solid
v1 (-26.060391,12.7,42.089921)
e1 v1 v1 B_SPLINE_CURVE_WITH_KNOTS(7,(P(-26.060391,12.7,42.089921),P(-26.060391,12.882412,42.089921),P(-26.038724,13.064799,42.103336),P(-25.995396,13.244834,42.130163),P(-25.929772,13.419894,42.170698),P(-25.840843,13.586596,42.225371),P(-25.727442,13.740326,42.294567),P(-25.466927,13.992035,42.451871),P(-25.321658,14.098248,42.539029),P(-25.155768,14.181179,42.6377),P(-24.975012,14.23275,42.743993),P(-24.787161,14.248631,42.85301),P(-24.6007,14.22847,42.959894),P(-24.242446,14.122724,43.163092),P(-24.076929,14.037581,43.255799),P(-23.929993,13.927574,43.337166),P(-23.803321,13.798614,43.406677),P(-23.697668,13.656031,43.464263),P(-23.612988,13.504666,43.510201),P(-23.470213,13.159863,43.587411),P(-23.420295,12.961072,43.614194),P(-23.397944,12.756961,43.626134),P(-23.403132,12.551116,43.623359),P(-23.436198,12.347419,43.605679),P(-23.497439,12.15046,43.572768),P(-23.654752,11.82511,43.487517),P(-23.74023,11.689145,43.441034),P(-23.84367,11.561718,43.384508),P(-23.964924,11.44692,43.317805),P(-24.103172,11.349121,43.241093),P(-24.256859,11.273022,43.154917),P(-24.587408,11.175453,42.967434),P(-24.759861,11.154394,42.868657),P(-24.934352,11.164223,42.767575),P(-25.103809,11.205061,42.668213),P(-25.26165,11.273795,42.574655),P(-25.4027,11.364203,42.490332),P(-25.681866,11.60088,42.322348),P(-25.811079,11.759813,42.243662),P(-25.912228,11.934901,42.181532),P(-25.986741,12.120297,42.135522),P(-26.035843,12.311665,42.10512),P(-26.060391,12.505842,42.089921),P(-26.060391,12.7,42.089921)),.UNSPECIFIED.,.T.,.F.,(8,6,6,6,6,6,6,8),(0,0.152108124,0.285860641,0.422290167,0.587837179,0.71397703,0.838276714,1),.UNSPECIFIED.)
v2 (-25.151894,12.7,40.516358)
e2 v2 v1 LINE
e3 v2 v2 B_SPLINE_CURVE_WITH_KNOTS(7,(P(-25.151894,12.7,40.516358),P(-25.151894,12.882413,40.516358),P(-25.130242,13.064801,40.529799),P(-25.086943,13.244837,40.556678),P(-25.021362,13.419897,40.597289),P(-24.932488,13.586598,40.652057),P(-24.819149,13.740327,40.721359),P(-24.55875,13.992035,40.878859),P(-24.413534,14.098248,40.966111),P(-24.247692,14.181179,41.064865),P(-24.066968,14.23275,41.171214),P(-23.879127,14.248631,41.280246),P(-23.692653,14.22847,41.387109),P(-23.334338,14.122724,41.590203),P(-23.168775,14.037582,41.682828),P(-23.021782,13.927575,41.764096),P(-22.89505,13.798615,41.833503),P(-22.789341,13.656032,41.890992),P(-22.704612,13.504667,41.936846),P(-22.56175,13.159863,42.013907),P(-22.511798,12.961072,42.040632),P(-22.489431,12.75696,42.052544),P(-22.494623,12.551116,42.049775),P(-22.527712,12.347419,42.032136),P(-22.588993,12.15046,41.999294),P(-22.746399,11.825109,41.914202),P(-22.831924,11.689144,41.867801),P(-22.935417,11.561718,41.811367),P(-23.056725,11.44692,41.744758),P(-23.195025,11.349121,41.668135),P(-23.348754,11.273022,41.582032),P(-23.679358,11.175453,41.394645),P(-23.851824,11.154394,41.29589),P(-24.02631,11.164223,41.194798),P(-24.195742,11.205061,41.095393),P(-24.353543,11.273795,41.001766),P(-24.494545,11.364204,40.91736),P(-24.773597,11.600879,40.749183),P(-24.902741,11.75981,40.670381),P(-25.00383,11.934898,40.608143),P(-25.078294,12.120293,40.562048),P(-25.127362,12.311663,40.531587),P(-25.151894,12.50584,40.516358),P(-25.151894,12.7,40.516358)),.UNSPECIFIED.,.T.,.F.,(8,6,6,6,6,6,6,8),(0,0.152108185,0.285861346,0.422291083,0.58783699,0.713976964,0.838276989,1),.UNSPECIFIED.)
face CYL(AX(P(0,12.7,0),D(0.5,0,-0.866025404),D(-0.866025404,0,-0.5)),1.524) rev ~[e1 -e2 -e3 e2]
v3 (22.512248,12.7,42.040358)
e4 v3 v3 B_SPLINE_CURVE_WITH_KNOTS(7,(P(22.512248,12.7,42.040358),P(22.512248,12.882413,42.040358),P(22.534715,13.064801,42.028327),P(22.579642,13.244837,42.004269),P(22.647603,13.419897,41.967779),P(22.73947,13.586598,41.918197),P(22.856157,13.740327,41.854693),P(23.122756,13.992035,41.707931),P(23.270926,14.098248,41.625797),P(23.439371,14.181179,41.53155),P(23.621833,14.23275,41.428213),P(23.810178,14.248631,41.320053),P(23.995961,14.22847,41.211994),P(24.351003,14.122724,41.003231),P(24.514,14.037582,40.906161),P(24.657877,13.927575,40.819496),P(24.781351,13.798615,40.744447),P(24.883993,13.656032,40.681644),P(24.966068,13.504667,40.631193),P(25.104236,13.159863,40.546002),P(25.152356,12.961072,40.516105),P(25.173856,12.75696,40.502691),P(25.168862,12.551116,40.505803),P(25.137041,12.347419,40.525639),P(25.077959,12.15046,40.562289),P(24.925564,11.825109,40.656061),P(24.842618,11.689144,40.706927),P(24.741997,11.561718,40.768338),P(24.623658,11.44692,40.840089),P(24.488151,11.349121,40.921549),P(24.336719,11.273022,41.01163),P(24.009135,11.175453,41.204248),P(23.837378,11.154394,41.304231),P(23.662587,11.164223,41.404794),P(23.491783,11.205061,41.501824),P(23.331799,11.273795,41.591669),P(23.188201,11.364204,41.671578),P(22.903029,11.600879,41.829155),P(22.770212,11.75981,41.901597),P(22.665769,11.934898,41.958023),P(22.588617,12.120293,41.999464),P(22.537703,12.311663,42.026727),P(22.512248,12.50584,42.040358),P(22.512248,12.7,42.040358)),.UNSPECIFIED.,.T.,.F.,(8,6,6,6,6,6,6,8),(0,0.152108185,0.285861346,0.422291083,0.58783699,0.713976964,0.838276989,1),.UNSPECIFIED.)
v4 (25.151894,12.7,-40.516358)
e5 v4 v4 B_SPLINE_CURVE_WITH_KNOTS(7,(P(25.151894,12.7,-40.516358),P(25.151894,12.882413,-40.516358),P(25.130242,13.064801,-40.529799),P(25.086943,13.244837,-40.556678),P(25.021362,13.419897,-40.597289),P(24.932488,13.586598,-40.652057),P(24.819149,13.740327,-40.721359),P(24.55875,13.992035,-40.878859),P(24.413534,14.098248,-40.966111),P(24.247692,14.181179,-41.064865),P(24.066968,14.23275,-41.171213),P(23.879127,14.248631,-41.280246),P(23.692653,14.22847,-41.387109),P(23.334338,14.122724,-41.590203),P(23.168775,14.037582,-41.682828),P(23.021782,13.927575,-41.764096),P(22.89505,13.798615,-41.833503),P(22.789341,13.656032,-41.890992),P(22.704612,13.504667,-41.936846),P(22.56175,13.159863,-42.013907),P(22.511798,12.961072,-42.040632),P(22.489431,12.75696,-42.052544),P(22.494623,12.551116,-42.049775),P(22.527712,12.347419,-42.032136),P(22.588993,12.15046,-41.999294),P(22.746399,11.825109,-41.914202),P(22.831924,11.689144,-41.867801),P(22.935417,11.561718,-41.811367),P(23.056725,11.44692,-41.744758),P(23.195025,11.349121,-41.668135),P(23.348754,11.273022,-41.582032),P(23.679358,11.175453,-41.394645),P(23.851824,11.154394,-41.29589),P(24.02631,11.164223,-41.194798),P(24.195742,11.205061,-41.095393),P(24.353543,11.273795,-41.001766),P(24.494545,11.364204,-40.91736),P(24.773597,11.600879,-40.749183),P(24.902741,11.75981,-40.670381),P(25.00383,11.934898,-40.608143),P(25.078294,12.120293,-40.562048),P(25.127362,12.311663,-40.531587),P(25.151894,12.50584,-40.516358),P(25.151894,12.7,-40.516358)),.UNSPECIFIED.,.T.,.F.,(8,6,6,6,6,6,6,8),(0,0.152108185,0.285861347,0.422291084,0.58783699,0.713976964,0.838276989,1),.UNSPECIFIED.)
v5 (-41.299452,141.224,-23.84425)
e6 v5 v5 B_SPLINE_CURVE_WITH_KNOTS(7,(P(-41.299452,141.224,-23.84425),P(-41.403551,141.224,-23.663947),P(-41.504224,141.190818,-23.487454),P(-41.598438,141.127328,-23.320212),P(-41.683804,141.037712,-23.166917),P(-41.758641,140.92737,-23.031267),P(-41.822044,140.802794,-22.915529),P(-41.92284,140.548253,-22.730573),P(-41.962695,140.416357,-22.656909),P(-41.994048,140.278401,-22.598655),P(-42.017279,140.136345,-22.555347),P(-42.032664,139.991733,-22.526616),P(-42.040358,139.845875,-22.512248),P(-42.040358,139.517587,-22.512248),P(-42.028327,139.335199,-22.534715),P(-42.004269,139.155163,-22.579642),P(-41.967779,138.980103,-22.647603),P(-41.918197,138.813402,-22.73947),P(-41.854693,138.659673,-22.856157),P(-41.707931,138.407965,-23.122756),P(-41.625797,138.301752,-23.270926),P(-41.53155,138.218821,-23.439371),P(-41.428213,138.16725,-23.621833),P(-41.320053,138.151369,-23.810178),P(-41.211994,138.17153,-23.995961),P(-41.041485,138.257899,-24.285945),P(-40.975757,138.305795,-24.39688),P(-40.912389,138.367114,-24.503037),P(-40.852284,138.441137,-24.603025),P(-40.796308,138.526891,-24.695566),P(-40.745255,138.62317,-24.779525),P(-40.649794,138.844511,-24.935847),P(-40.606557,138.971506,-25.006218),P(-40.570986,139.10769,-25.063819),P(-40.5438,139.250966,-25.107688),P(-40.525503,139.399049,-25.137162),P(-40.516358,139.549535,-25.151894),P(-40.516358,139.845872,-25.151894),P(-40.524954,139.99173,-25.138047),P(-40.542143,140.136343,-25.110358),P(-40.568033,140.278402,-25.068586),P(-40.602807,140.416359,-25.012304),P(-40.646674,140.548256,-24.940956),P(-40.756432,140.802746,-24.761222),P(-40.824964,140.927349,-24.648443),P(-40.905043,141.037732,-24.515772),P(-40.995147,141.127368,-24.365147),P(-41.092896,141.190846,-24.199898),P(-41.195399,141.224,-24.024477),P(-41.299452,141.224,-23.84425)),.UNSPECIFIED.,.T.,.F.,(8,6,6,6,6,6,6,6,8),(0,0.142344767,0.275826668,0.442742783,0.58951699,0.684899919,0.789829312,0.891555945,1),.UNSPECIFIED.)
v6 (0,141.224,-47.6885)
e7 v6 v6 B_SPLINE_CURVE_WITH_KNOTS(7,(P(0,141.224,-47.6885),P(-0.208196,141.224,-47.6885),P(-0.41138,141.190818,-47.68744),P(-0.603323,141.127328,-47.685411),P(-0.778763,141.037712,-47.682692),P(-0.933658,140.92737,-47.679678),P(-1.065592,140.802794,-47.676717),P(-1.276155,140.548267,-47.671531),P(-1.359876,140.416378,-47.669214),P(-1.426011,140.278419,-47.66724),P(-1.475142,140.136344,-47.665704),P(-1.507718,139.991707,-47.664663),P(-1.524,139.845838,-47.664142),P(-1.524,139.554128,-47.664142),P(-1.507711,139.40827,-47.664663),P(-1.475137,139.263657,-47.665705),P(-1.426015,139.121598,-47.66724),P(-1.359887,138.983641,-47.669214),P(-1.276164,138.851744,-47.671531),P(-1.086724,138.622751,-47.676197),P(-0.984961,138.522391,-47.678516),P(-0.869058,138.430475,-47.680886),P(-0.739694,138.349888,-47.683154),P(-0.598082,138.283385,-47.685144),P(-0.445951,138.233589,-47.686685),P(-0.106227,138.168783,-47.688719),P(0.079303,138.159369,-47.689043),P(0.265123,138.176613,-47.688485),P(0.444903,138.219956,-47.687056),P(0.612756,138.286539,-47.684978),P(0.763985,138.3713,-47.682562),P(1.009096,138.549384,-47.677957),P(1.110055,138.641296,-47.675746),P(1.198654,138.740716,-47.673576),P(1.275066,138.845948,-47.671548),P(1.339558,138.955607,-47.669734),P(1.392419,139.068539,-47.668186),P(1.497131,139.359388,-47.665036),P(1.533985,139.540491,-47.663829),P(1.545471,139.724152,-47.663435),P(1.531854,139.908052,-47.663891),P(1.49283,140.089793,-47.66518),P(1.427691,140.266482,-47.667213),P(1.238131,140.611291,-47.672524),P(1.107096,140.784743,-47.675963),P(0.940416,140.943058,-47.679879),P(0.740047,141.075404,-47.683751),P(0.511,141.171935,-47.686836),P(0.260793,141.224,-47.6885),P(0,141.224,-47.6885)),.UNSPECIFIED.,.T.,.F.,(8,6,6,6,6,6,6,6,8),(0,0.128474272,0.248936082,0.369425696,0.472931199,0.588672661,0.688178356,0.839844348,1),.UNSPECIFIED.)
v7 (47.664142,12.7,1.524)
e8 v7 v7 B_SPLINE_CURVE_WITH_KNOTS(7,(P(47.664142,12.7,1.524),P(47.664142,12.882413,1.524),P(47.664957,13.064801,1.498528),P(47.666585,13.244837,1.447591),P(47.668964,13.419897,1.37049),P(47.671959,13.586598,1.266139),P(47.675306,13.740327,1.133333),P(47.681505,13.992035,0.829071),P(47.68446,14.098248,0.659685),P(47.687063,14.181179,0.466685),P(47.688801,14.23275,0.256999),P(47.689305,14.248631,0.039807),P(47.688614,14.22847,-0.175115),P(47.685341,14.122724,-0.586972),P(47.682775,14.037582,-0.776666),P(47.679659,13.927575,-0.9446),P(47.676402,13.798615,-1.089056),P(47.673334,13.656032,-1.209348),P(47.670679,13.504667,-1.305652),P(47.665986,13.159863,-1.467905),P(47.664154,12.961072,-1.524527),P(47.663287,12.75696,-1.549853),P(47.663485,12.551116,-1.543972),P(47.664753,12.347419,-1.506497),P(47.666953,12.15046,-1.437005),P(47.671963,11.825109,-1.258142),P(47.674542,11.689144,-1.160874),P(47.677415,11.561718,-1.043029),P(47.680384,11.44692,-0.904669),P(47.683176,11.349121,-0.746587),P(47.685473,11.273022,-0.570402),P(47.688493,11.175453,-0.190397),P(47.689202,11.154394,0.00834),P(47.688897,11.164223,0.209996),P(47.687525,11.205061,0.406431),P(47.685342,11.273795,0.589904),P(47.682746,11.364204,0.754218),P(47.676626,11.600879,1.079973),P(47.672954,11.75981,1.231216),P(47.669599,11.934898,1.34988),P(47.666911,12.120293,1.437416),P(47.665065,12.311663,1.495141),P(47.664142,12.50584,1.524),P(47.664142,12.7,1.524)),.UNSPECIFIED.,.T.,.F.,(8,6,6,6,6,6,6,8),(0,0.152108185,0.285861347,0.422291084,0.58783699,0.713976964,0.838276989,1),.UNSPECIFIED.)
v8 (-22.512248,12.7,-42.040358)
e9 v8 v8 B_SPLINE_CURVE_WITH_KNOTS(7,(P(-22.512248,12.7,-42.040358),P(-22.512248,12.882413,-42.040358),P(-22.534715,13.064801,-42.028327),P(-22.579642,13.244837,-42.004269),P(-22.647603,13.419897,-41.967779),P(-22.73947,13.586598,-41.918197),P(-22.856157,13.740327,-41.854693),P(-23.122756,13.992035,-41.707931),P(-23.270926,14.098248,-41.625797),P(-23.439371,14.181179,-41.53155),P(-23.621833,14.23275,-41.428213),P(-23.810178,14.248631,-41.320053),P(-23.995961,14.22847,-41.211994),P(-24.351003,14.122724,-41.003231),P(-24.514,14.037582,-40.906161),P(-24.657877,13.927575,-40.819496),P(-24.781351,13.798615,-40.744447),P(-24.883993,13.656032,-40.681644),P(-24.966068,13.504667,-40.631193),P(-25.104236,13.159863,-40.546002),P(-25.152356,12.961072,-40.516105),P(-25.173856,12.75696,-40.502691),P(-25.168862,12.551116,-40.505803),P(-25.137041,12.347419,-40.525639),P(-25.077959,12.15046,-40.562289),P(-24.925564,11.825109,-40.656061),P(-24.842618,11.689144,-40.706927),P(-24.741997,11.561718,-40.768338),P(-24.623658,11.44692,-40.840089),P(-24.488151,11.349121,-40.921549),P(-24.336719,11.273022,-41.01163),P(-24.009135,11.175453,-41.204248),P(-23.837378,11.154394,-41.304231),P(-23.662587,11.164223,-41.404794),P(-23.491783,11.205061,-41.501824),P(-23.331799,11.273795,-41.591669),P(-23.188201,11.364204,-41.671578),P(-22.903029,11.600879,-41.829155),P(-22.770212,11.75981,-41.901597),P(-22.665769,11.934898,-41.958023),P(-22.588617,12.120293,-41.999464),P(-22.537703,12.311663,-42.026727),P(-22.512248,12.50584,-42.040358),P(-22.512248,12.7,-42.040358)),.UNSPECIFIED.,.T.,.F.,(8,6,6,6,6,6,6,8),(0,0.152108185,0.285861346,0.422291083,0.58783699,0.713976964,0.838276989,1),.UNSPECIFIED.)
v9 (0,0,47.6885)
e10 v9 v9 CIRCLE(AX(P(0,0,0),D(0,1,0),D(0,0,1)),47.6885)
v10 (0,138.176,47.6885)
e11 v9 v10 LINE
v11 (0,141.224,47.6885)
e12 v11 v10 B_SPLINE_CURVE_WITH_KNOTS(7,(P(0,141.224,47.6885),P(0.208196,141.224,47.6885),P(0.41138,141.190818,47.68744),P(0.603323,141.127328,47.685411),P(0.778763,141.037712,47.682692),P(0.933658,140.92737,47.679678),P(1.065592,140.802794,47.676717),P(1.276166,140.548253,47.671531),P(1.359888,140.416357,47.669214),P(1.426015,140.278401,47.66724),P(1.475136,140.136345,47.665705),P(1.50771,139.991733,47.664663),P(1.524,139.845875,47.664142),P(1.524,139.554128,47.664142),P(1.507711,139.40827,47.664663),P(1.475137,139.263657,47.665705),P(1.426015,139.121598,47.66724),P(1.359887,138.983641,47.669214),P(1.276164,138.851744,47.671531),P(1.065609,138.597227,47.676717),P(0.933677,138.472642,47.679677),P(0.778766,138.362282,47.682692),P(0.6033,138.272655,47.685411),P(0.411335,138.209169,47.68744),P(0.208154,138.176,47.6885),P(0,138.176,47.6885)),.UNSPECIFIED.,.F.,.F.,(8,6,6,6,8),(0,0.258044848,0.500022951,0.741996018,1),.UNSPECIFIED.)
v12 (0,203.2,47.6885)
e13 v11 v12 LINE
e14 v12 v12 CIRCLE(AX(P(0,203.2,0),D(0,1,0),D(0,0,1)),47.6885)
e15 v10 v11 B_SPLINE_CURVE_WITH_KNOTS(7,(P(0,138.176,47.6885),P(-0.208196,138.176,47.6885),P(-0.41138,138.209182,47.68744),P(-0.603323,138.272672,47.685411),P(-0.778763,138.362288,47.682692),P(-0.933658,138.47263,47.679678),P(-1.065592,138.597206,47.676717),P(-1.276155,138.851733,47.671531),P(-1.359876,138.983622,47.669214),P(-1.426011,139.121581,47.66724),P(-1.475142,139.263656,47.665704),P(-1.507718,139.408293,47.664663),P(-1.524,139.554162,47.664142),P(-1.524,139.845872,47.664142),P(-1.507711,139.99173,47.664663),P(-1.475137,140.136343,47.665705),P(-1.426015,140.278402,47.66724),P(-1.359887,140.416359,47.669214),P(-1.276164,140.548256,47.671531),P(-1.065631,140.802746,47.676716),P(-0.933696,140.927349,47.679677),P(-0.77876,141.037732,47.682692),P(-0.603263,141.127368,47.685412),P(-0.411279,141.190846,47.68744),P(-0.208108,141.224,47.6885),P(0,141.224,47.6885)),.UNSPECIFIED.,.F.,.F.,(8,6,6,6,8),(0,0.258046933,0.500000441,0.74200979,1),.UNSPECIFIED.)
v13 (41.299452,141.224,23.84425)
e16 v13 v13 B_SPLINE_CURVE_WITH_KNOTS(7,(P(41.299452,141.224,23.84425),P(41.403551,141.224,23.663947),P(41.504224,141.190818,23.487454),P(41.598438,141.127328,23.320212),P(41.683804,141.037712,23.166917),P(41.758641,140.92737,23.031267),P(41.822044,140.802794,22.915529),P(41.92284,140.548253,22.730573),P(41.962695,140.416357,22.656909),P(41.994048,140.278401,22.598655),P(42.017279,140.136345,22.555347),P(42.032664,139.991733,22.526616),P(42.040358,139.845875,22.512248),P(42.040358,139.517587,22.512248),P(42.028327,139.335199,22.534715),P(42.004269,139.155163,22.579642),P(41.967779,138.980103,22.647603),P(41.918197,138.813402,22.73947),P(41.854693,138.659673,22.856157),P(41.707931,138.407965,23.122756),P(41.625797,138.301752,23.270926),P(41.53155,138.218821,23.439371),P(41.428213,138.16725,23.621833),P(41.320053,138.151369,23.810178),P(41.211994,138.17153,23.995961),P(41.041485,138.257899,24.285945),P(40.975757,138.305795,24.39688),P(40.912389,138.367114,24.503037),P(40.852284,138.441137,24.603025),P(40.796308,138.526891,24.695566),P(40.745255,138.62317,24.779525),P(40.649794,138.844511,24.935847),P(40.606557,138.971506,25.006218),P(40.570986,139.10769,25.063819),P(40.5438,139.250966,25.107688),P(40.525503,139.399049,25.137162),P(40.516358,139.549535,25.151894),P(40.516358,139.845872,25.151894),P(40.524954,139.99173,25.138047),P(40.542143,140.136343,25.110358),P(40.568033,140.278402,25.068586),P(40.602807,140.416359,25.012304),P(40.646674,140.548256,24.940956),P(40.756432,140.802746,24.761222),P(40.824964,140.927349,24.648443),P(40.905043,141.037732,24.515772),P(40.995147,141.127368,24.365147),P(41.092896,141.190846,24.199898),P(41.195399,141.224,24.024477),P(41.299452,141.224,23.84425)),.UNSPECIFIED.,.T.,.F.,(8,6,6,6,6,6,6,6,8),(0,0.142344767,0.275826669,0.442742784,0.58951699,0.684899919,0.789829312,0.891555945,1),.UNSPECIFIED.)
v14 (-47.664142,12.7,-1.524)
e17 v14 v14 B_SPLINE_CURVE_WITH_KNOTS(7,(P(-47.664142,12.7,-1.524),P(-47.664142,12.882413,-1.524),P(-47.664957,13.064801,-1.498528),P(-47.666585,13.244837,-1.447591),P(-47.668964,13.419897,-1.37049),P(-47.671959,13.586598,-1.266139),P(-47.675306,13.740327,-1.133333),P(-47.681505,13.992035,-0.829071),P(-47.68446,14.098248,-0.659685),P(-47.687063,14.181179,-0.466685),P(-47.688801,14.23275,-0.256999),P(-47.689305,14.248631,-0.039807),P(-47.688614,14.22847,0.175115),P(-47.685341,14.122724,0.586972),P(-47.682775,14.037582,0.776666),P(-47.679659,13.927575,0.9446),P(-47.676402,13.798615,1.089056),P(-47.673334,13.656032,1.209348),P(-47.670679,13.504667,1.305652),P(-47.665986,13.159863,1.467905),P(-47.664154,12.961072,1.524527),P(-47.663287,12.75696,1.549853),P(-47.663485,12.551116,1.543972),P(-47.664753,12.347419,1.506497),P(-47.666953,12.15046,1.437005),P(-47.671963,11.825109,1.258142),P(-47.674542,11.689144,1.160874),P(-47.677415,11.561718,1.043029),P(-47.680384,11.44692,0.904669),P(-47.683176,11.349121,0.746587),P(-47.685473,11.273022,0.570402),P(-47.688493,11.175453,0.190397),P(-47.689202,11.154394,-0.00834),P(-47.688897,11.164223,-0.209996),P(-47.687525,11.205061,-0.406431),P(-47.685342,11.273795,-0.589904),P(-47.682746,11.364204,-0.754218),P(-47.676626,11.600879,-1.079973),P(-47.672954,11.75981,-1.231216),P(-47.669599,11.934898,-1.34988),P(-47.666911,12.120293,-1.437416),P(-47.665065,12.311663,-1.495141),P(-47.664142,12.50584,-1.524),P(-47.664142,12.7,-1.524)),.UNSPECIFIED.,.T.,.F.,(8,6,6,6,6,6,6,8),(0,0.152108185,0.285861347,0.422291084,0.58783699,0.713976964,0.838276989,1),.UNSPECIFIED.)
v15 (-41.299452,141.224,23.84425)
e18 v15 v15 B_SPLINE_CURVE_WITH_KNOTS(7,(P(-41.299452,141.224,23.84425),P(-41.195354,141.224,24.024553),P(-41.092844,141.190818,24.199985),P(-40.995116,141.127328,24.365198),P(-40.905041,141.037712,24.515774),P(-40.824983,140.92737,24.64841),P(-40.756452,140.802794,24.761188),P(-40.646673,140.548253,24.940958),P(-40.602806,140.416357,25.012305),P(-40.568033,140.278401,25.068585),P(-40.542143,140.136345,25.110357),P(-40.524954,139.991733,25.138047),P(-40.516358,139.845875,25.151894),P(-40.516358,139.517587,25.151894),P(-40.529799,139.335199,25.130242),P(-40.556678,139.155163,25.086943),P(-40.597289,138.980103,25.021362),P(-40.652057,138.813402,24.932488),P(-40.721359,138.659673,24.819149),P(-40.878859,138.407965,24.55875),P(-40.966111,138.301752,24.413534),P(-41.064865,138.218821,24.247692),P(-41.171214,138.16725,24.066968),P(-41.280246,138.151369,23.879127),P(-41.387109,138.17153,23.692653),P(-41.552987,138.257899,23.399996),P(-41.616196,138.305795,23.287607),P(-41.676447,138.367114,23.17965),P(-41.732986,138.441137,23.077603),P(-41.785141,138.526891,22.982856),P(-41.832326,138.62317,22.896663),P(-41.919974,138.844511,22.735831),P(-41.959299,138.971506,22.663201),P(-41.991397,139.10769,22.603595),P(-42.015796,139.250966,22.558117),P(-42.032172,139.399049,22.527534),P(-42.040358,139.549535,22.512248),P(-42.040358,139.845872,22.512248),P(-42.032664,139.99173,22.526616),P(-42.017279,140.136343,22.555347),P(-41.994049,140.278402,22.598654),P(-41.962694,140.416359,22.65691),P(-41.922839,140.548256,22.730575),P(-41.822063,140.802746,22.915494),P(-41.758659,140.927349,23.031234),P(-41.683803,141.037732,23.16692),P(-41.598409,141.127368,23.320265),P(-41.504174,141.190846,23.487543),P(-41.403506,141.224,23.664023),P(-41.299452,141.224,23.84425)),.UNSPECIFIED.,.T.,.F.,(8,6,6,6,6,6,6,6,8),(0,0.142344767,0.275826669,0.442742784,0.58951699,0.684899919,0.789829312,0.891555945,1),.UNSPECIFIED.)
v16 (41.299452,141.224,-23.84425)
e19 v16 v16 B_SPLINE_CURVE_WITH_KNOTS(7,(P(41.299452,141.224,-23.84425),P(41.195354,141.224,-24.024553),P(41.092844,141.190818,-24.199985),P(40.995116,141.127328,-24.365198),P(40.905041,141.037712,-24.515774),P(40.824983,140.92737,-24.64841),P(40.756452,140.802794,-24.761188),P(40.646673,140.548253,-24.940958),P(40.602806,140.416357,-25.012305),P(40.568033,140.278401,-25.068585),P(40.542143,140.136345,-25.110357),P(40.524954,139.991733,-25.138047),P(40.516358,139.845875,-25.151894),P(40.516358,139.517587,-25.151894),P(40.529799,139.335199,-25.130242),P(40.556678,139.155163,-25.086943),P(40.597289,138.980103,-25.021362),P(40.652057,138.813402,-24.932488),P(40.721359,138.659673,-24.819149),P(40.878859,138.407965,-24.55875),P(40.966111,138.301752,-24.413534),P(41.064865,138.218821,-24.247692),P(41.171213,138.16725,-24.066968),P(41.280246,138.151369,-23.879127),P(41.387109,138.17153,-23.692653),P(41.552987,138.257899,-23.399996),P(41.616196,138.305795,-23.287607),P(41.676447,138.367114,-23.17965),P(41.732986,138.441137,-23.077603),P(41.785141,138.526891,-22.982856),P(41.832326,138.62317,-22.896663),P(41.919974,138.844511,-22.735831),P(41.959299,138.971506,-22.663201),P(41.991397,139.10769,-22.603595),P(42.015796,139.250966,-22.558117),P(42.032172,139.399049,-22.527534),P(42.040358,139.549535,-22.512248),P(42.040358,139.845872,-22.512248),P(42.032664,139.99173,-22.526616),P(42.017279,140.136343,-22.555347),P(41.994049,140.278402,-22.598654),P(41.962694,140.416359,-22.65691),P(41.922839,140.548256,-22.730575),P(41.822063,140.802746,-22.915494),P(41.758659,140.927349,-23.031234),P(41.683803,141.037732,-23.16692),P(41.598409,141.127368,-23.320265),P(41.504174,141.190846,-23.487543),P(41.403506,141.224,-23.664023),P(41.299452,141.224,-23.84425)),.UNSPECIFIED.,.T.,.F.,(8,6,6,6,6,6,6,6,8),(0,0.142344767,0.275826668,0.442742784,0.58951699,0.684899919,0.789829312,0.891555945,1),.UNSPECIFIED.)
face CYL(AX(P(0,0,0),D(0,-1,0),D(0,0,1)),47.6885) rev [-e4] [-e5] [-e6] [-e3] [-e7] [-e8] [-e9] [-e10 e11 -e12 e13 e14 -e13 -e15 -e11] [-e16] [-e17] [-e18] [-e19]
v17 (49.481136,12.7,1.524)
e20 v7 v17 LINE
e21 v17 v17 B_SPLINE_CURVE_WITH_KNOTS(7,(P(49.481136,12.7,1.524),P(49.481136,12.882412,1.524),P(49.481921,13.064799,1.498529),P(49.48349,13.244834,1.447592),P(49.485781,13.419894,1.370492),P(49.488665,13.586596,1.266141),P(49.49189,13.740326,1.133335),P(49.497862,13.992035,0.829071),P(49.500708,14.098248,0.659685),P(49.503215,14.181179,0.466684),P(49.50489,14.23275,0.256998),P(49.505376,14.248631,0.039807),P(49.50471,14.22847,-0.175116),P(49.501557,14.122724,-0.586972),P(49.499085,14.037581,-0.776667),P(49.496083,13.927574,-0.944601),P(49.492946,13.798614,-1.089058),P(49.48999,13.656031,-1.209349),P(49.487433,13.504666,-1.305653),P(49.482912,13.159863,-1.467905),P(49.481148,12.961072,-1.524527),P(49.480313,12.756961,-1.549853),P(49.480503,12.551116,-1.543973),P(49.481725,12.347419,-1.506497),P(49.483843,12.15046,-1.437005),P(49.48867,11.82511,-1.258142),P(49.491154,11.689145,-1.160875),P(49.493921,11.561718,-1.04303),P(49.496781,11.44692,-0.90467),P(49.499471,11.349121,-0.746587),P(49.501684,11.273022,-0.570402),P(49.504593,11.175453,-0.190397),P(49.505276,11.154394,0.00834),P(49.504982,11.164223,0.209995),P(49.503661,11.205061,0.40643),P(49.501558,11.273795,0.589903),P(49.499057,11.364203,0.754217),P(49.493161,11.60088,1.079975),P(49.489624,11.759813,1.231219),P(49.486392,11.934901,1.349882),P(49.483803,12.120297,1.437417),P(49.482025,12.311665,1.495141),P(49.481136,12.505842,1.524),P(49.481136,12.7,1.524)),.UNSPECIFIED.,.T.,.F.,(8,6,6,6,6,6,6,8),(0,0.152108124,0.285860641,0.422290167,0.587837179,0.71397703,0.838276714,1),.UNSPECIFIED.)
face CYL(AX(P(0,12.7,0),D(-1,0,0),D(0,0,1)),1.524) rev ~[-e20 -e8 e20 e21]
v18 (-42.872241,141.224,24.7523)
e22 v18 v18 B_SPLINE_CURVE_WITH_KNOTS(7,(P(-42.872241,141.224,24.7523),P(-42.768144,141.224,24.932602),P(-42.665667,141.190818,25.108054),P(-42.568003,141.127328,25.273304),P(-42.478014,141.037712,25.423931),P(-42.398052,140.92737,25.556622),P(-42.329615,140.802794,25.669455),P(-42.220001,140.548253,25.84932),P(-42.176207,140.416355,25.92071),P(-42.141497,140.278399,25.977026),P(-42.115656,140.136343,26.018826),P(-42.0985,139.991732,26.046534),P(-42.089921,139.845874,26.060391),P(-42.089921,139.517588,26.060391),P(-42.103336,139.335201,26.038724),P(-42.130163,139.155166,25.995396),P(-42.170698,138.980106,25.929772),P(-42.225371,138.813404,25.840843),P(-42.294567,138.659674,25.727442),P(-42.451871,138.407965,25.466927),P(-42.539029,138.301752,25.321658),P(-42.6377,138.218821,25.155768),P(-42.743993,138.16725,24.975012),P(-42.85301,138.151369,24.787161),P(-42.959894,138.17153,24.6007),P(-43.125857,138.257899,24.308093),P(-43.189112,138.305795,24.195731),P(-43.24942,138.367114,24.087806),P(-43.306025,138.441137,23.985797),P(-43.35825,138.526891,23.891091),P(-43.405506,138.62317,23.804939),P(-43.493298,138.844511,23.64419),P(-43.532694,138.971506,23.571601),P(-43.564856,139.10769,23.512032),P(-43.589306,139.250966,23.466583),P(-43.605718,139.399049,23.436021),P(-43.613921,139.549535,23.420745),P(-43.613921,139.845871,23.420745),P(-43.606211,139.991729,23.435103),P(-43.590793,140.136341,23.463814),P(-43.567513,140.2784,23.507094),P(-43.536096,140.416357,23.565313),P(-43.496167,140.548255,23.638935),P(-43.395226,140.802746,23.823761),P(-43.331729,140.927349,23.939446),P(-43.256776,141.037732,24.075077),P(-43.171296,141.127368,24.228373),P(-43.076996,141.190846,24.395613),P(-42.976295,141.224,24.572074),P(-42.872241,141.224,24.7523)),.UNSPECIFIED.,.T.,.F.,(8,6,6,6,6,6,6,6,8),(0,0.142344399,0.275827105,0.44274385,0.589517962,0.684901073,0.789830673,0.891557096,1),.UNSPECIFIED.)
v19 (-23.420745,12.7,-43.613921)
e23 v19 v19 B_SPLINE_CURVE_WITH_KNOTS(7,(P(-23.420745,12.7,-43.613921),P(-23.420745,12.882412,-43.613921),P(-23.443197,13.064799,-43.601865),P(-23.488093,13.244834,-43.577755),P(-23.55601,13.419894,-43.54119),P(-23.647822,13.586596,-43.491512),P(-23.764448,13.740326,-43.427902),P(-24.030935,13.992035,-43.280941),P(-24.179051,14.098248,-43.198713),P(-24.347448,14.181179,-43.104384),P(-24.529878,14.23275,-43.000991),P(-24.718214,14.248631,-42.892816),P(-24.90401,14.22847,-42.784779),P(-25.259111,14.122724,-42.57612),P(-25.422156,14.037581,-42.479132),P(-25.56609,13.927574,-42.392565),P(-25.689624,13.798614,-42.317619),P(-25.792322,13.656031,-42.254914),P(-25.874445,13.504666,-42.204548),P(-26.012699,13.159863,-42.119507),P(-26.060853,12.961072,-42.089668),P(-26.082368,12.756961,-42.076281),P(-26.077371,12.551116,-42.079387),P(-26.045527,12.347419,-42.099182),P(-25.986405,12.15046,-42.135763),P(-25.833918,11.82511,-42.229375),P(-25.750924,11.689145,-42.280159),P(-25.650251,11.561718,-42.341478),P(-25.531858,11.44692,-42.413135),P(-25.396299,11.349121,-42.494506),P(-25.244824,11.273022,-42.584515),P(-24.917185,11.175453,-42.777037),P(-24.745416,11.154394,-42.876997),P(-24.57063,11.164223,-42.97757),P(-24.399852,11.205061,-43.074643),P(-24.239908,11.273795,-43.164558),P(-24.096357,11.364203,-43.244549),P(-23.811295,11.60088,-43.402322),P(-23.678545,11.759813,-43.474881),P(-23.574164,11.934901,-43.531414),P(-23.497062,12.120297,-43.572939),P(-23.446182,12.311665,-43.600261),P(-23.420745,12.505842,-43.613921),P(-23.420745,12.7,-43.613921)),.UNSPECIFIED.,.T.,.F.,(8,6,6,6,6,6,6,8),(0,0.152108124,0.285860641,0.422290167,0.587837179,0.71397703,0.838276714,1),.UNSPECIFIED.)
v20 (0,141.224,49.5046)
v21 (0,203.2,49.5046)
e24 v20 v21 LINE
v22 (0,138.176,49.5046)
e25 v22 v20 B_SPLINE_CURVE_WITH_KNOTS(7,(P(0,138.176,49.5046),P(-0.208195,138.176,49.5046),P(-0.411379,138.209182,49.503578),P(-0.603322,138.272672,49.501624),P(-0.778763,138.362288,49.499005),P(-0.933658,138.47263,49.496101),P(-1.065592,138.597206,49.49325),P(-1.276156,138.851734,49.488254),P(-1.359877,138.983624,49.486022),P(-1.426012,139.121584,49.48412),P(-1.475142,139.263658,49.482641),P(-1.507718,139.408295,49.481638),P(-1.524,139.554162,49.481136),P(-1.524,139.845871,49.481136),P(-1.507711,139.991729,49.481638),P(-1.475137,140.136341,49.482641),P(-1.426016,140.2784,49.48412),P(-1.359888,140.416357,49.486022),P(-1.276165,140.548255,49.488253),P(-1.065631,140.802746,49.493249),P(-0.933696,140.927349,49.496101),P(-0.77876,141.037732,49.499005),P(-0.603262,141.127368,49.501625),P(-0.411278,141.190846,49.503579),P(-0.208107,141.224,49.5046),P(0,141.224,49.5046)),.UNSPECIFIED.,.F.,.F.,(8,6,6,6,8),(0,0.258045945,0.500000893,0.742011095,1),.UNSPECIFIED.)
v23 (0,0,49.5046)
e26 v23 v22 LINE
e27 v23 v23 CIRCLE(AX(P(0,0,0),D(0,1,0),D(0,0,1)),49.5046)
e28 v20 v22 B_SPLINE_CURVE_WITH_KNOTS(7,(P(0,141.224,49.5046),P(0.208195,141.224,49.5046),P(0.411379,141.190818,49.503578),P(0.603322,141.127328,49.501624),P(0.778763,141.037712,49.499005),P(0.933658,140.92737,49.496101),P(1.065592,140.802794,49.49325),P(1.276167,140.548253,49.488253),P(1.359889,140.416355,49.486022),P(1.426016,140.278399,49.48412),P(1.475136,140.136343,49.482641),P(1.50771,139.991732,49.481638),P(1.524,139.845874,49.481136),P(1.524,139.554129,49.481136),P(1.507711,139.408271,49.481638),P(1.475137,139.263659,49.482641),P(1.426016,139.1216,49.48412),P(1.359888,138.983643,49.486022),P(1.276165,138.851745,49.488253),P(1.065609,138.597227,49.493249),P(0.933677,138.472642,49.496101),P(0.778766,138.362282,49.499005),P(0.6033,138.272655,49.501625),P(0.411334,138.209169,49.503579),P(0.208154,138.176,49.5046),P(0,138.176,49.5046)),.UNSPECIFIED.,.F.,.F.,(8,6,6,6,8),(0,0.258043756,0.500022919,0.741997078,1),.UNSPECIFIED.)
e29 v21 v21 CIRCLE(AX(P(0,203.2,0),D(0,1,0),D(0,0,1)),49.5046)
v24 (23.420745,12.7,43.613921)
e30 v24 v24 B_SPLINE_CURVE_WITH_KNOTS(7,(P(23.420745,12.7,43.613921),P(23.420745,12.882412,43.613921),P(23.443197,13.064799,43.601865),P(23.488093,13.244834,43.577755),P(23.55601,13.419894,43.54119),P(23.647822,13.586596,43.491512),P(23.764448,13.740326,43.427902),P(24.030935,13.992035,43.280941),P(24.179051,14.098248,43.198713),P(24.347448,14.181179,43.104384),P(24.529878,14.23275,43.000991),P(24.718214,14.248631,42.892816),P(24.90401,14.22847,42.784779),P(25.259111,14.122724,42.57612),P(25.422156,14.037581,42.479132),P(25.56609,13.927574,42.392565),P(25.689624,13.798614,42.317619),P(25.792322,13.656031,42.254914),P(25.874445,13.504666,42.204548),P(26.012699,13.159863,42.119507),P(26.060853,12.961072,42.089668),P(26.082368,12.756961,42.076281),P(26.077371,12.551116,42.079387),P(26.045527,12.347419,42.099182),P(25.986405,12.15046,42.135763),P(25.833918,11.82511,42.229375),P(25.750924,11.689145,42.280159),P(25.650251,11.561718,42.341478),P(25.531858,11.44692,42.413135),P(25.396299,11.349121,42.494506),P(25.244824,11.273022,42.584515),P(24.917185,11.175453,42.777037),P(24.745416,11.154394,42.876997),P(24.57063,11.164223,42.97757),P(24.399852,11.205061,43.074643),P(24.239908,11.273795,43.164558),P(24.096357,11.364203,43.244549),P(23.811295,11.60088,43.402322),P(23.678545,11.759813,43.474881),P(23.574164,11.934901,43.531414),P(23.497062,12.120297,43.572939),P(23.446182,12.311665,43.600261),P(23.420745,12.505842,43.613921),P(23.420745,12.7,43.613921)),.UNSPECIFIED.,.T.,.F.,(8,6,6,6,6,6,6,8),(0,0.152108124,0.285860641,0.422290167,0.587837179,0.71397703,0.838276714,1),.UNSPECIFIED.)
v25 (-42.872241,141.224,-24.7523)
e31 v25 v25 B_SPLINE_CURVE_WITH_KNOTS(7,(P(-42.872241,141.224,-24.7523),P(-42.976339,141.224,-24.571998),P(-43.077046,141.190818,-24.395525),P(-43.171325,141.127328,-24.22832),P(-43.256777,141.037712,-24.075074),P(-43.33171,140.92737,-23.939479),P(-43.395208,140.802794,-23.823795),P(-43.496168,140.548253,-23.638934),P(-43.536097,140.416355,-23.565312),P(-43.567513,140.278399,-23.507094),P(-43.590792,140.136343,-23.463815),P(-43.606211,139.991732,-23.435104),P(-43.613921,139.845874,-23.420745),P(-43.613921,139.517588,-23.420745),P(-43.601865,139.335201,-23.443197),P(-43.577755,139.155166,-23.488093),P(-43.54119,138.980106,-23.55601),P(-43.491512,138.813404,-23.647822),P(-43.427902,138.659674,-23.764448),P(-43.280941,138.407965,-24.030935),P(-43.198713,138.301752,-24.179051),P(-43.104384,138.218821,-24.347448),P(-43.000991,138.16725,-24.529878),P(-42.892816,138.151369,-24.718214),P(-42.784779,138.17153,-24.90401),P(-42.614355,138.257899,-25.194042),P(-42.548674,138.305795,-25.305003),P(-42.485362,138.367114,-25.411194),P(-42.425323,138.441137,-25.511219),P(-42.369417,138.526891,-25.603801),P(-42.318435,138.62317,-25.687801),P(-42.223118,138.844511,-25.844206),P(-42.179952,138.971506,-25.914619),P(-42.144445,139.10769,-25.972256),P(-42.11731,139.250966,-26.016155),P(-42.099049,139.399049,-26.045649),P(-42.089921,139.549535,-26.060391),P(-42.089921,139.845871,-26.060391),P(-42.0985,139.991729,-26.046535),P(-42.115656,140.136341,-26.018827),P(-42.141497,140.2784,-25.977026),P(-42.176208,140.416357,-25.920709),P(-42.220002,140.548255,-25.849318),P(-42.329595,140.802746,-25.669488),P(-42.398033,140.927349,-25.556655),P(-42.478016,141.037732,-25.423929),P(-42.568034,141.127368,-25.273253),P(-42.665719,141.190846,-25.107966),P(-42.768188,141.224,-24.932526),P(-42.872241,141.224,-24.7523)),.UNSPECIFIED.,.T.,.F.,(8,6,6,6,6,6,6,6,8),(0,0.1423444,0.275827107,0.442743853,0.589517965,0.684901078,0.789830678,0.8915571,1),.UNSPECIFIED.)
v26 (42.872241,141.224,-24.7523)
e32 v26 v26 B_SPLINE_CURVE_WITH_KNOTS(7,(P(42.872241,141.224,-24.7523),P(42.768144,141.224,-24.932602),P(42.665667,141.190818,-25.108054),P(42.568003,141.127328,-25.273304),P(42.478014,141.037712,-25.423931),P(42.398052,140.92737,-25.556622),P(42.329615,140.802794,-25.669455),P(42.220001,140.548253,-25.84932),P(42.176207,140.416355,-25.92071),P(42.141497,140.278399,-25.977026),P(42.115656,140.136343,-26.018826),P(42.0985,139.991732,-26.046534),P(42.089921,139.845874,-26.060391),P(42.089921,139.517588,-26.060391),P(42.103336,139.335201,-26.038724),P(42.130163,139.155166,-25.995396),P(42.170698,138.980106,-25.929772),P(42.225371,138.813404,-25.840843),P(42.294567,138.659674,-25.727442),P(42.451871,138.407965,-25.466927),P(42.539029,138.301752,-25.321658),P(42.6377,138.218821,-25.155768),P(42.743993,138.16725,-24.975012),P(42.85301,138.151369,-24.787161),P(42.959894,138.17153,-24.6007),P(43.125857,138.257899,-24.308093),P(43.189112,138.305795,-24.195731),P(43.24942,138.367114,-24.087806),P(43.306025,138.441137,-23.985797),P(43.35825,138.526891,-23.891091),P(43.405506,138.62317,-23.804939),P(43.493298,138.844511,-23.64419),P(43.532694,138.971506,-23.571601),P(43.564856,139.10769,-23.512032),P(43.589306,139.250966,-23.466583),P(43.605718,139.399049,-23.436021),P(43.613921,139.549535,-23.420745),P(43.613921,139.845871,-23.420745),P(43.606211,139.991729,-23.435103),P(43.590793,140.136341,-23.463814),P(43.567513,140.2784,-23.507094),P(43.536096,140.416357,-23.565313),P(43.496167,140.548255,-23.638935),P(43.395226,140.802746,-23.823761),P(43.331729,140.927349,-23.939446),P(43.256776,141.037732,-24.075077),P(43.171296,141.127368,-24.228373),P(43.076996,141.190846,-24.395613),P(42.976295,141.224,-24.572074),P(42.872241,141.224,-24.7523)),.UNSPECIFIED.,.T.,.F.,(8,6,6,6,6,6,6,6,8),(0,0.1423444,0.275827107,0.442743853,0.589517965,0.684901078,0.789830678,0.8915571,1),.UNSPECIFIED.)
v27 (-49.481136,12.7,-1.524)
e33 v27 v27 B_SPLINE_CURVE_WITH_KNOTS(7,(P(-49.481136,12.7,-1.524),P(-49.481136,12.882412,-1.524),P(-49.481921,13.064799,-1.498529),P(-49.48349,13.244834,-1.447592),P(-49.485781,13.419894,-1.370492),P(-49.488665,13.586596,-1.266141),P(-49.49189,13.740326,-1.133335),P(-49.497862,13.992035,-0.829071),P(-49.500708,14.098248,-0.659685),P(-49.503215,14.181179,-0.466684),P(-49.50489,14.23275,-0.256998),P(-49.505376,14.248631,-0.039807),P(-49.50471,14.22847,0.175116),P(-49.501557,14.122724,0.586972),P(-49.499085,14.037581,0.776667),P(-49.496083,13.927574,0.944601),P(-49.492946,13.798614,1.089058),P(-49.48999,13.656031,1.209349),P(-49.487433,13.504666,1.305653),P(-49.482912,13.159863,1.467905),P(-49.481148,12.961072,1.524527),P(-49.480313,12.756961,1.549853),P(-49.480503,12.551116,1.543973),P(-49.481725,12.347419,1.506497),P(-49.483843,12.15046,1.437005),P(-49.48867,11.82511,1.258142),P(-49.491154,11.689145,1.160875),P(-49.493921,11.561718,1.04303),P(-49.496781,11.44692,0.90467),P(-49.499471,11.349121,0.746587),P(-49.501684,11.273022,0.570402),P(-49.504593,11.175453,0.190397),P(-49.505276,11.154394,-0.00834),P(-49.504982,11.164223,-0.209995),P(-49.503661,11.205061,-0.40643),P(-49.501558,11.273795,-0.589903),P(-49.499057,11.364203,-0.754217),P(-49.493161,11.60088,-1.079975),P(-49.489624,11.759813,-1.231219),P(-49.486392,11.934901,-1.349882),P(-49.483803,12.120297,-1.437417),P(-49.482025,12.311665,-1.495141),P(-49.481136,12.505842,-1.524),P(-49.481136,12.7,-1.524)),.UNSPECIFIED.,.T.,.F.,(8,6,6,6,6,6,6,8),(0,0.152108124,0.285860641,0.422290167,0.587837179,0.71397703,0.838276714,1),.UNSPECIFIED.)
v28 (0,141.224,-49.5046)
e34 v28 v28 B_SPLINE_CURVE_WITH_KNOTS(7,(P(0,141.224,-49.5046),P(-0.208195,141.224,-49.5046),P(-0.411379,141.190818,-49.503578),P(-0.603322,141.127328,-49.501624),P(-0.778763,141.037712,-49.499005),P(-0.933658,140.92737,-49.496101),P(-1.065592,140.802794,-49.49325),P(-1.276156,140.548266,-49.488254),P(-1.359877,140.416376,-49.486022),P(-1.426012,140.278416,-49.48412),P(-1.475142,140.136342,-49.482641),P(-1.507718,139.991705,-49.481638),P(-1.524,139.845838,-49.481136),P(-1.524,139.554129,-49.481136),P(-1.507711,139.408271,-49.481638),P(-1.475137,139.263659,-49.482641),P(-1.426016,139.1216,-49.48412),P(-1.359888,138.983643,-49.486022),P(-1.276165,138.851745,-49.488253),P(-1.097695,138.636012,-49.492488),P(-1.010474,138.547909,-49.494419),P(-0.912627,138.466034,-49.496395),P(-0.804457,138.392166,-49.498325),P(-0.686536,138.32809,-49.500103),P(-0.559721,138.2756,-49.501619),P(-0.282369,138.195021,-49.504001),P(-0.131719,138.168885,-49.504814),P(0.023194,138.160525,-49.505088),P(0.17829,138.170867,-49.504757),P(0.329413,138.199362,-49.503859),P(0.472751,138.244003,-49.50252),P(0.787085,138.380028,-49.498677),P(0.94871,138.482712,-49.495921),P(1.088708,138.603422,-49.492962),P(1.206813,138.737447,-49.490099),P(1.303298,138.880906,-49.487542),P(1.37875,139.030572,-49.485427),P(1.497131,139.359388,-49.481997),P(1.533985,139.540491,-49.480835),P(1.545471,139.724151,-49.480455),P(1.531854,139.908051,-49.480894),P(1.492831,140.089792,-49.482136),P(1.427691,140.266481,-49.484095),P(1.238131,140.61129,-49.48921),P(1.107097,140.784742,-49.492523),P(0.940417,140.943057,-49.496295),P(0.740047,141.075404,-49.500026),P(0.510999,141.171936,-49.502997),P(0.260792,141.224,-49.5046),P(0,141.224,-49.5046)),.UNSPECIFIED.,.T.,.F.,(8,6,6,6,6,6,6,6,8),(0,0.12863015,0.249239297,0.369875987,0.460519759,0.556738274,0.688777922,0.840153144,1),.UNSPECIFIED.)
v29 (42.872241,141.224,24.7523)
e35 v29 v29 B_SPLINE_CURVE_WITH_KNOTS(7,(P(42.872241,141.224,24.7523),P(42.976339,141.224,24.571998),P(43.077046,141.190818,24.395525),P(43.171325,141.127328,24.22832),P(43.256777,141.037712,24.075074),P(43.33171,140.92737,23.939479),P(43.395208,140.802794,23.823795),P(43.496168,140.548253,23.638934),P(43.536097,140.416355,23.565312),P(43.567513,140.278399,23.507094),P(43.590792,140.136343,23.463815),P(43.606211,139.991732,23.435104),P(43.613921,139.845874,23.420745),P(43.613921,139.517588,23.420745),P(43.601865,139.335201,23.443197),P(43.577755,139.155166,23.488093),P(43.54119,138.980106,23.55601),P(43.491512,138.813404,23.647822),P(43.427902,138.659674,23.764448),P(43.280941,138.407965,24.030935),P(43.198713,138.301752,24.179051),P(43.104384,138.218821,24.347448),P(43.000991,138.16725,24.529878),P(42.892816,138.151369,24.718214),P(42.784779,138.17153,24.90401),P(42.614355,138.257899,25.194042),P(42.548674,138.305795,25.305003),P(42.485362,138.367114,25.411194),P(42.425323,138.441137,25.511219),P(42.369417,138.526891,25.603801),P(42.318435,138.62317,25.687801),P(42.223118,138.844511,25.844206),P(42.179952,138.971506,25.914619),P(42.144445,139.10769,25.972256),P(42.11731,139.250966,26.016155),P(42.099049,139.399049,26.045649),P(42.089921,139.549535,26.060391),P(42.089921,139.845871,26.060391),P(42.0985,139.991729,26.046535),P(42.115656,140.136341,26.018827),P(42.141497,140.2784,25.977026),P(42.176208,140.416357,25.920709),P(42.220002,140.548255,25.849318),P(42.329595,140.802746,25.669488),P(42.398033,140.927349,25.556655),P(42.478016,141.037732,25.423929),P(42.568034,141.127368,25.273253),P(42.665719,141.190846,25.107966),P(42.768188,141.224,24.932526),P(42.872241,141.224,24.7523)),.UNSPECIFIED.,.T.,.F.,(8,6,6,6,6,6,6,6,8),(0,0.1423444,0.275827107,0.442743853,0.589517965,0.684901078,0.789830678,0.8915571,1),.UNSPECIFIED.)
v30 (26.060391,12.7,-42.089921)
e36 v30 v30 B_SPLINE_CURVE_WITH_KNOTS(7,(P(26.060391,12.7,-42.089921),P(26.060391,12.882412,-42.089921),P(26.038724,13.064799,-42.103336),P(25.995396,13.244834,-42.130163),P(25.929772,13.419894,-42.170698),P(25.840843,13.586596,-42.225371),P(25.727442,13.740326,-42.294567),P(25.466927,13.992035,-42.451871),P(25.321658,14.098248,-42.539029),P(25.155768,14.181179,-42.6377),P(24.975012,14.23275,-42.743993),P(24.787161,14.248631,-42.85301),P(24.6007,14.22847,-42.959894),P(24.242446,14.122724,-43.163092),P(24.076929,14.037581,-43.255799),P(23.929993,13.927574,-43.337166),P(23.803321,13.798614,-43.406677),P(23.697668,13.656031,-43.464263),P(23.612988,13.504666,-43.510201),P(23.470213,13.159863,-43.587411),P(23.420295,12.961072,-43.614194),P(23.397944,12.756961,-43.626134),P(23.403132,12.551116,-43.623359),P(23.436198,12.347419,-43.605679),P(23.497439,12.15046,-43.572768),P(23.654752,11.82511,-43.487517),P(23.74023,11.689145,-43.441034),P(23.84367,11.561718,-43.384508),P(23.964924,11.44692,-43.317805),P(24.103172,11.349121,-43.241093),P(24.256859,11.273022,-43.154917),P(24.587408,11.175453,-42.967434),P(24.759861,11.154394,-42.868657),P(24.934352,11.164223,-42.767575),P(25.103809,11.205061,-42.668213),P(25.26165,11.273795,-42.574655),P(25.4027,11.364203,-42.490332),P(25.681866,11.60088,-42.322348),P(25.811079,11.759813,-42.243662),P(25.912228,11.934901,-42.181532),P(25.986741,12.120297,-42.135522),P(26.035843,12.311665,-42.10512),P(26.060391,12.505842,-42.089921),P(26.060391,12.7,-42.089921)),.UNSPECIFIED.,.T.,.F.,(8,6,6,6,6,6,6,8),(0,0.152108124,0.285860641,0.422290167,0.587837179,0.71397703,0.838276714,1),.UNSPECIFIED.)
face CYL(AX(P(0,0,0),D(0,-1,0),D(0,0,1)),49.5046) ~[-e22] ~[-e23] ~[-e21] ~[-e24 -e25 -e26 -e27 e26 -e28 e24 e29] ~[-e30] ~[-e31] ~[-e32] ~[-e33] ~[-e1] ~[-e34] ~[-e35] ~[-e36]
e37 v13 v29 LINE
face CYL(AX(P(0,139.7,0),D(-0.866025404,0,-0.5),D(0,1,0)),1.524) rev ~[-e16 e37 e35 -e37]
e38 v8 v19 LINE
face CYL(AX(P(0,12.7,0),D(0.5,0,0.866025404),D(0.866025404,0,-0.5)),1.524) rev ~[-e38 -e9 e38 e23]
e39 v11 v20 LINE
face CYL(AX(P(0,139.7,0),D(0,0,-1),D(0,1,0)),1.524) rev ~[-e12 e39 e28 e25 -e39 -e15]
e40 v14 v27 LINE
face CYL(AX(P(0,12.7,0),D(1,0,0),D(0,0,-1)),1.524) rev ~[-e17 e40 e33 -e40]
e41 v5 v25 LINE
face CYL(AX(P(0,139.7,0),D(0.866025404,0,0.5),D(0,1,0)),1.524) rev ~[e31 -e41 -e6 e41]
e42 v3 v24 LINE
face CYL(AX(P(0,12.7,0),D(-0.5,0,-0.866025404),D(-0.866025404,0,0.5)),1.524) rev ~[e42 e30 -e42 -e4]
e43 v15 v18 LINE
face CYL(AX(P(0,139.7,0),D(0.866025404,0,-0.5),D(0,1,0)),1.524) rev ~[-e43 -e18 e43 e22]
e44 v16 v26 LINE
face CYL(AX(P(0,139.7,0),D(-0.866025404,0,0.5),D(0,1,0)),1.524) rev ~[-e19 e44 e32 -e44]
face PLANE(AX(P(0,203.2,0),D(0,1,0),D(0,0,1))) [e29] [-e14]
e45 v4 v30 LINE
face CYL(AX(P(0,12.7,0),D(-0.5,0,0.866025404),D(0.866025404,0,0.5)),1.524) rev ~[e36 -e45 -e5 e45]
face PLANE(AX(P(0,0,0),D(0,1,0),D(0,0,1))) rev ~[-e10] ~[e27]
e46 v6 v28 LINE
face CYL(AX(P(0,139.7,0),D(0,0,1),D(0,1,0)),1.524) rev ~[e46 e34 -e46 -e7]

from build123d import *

# Parameters (mm, degrees)
SKETCH1_R           = 49.5046
SKETCH1_R_2         = 47.6885
BOSS_EXTRUDE1_DEPTH = 203.2
SKETCH2_R           = 1.524
CUT_EXTRUDE1_DEPTH  = 81.534
CIRPATTERN1_COUNT   = 6
SKETCH3_R           = 1.524
CUT_EXTRUDE2_DEPTH  = 81.534
CIRPATTERN2_COUNT   = 6


with BuildPart() as part:
    # Sketch1 → Boss-Extrude1 (new body)
    with BuildSketch(Plane(origin=(0, 0, 0), x_dir=(1, 0, 0), z_dir=(0, 1, 0))):
        with Locations(Location((0, 0, 0), (0, 0, 270))):
            Circle(SKETCH1_R)
        with Locations(Location((0, 0, 0), (0, 0, 270))):
            Circle(SKETCH1_R_2, mode=Mode.SUBTRACT)
    extrude(amount=BOSS_EXTRUDE1_DEPTH)

    # Sketch2 → Cut-Extrude1 (cut)
    with BuildSketch(Plane.XY):
        with Locations(Location((0, 139.7, 0), (0, 0, 90))):
            Circle(SKETCH2_R)
    cut_extrude1 = extrude(amount=-CUT_EXTRUDE1_DEPTH, mode=Mode.SUBTRACT)

    # CirPattern1: Cut-Extrude1 ×6 about axis
    cirpattern1_axis = Axis((0, 203.2, 0), (0, -1, 0))
    for i in range(1, CIRPATTERN1_COUNT):
        add(cut_extrude1.rotate(cirpattern1_axis, i * 360 / CIRPATTERN1_COUNT), mode=Mode.SUBTRACT)

    # Sketch3 → Cut-Extrude2 (cut)
    with BuildSketch(Plane(origin=(0, 0, 0), x_dir=(0, 0, -1), z_dir=(1, 0, 0))):
        with Locations((0, 12.7)):
            Circle(SKETCH3_R)
    cut_extrude2 = extrude(amount=-CUT_EXTRUDE2_DEPTH, mode=Mode.SUBTRACT)

    # CirPattern2: Cut-Extrude2 ×6 about axis
    cirpattern2_axis = Axis((0, 203.2, 0), (0, -1, 0))
    for i in range(1, CIRPATTERN2_COUNT):
        add(cut_extrude2.rotate(cirpattern2_axis, i * 360 / CIRPATTERN2_COUNT), mode=Mode.SUBTRACT)


solid = part.part
